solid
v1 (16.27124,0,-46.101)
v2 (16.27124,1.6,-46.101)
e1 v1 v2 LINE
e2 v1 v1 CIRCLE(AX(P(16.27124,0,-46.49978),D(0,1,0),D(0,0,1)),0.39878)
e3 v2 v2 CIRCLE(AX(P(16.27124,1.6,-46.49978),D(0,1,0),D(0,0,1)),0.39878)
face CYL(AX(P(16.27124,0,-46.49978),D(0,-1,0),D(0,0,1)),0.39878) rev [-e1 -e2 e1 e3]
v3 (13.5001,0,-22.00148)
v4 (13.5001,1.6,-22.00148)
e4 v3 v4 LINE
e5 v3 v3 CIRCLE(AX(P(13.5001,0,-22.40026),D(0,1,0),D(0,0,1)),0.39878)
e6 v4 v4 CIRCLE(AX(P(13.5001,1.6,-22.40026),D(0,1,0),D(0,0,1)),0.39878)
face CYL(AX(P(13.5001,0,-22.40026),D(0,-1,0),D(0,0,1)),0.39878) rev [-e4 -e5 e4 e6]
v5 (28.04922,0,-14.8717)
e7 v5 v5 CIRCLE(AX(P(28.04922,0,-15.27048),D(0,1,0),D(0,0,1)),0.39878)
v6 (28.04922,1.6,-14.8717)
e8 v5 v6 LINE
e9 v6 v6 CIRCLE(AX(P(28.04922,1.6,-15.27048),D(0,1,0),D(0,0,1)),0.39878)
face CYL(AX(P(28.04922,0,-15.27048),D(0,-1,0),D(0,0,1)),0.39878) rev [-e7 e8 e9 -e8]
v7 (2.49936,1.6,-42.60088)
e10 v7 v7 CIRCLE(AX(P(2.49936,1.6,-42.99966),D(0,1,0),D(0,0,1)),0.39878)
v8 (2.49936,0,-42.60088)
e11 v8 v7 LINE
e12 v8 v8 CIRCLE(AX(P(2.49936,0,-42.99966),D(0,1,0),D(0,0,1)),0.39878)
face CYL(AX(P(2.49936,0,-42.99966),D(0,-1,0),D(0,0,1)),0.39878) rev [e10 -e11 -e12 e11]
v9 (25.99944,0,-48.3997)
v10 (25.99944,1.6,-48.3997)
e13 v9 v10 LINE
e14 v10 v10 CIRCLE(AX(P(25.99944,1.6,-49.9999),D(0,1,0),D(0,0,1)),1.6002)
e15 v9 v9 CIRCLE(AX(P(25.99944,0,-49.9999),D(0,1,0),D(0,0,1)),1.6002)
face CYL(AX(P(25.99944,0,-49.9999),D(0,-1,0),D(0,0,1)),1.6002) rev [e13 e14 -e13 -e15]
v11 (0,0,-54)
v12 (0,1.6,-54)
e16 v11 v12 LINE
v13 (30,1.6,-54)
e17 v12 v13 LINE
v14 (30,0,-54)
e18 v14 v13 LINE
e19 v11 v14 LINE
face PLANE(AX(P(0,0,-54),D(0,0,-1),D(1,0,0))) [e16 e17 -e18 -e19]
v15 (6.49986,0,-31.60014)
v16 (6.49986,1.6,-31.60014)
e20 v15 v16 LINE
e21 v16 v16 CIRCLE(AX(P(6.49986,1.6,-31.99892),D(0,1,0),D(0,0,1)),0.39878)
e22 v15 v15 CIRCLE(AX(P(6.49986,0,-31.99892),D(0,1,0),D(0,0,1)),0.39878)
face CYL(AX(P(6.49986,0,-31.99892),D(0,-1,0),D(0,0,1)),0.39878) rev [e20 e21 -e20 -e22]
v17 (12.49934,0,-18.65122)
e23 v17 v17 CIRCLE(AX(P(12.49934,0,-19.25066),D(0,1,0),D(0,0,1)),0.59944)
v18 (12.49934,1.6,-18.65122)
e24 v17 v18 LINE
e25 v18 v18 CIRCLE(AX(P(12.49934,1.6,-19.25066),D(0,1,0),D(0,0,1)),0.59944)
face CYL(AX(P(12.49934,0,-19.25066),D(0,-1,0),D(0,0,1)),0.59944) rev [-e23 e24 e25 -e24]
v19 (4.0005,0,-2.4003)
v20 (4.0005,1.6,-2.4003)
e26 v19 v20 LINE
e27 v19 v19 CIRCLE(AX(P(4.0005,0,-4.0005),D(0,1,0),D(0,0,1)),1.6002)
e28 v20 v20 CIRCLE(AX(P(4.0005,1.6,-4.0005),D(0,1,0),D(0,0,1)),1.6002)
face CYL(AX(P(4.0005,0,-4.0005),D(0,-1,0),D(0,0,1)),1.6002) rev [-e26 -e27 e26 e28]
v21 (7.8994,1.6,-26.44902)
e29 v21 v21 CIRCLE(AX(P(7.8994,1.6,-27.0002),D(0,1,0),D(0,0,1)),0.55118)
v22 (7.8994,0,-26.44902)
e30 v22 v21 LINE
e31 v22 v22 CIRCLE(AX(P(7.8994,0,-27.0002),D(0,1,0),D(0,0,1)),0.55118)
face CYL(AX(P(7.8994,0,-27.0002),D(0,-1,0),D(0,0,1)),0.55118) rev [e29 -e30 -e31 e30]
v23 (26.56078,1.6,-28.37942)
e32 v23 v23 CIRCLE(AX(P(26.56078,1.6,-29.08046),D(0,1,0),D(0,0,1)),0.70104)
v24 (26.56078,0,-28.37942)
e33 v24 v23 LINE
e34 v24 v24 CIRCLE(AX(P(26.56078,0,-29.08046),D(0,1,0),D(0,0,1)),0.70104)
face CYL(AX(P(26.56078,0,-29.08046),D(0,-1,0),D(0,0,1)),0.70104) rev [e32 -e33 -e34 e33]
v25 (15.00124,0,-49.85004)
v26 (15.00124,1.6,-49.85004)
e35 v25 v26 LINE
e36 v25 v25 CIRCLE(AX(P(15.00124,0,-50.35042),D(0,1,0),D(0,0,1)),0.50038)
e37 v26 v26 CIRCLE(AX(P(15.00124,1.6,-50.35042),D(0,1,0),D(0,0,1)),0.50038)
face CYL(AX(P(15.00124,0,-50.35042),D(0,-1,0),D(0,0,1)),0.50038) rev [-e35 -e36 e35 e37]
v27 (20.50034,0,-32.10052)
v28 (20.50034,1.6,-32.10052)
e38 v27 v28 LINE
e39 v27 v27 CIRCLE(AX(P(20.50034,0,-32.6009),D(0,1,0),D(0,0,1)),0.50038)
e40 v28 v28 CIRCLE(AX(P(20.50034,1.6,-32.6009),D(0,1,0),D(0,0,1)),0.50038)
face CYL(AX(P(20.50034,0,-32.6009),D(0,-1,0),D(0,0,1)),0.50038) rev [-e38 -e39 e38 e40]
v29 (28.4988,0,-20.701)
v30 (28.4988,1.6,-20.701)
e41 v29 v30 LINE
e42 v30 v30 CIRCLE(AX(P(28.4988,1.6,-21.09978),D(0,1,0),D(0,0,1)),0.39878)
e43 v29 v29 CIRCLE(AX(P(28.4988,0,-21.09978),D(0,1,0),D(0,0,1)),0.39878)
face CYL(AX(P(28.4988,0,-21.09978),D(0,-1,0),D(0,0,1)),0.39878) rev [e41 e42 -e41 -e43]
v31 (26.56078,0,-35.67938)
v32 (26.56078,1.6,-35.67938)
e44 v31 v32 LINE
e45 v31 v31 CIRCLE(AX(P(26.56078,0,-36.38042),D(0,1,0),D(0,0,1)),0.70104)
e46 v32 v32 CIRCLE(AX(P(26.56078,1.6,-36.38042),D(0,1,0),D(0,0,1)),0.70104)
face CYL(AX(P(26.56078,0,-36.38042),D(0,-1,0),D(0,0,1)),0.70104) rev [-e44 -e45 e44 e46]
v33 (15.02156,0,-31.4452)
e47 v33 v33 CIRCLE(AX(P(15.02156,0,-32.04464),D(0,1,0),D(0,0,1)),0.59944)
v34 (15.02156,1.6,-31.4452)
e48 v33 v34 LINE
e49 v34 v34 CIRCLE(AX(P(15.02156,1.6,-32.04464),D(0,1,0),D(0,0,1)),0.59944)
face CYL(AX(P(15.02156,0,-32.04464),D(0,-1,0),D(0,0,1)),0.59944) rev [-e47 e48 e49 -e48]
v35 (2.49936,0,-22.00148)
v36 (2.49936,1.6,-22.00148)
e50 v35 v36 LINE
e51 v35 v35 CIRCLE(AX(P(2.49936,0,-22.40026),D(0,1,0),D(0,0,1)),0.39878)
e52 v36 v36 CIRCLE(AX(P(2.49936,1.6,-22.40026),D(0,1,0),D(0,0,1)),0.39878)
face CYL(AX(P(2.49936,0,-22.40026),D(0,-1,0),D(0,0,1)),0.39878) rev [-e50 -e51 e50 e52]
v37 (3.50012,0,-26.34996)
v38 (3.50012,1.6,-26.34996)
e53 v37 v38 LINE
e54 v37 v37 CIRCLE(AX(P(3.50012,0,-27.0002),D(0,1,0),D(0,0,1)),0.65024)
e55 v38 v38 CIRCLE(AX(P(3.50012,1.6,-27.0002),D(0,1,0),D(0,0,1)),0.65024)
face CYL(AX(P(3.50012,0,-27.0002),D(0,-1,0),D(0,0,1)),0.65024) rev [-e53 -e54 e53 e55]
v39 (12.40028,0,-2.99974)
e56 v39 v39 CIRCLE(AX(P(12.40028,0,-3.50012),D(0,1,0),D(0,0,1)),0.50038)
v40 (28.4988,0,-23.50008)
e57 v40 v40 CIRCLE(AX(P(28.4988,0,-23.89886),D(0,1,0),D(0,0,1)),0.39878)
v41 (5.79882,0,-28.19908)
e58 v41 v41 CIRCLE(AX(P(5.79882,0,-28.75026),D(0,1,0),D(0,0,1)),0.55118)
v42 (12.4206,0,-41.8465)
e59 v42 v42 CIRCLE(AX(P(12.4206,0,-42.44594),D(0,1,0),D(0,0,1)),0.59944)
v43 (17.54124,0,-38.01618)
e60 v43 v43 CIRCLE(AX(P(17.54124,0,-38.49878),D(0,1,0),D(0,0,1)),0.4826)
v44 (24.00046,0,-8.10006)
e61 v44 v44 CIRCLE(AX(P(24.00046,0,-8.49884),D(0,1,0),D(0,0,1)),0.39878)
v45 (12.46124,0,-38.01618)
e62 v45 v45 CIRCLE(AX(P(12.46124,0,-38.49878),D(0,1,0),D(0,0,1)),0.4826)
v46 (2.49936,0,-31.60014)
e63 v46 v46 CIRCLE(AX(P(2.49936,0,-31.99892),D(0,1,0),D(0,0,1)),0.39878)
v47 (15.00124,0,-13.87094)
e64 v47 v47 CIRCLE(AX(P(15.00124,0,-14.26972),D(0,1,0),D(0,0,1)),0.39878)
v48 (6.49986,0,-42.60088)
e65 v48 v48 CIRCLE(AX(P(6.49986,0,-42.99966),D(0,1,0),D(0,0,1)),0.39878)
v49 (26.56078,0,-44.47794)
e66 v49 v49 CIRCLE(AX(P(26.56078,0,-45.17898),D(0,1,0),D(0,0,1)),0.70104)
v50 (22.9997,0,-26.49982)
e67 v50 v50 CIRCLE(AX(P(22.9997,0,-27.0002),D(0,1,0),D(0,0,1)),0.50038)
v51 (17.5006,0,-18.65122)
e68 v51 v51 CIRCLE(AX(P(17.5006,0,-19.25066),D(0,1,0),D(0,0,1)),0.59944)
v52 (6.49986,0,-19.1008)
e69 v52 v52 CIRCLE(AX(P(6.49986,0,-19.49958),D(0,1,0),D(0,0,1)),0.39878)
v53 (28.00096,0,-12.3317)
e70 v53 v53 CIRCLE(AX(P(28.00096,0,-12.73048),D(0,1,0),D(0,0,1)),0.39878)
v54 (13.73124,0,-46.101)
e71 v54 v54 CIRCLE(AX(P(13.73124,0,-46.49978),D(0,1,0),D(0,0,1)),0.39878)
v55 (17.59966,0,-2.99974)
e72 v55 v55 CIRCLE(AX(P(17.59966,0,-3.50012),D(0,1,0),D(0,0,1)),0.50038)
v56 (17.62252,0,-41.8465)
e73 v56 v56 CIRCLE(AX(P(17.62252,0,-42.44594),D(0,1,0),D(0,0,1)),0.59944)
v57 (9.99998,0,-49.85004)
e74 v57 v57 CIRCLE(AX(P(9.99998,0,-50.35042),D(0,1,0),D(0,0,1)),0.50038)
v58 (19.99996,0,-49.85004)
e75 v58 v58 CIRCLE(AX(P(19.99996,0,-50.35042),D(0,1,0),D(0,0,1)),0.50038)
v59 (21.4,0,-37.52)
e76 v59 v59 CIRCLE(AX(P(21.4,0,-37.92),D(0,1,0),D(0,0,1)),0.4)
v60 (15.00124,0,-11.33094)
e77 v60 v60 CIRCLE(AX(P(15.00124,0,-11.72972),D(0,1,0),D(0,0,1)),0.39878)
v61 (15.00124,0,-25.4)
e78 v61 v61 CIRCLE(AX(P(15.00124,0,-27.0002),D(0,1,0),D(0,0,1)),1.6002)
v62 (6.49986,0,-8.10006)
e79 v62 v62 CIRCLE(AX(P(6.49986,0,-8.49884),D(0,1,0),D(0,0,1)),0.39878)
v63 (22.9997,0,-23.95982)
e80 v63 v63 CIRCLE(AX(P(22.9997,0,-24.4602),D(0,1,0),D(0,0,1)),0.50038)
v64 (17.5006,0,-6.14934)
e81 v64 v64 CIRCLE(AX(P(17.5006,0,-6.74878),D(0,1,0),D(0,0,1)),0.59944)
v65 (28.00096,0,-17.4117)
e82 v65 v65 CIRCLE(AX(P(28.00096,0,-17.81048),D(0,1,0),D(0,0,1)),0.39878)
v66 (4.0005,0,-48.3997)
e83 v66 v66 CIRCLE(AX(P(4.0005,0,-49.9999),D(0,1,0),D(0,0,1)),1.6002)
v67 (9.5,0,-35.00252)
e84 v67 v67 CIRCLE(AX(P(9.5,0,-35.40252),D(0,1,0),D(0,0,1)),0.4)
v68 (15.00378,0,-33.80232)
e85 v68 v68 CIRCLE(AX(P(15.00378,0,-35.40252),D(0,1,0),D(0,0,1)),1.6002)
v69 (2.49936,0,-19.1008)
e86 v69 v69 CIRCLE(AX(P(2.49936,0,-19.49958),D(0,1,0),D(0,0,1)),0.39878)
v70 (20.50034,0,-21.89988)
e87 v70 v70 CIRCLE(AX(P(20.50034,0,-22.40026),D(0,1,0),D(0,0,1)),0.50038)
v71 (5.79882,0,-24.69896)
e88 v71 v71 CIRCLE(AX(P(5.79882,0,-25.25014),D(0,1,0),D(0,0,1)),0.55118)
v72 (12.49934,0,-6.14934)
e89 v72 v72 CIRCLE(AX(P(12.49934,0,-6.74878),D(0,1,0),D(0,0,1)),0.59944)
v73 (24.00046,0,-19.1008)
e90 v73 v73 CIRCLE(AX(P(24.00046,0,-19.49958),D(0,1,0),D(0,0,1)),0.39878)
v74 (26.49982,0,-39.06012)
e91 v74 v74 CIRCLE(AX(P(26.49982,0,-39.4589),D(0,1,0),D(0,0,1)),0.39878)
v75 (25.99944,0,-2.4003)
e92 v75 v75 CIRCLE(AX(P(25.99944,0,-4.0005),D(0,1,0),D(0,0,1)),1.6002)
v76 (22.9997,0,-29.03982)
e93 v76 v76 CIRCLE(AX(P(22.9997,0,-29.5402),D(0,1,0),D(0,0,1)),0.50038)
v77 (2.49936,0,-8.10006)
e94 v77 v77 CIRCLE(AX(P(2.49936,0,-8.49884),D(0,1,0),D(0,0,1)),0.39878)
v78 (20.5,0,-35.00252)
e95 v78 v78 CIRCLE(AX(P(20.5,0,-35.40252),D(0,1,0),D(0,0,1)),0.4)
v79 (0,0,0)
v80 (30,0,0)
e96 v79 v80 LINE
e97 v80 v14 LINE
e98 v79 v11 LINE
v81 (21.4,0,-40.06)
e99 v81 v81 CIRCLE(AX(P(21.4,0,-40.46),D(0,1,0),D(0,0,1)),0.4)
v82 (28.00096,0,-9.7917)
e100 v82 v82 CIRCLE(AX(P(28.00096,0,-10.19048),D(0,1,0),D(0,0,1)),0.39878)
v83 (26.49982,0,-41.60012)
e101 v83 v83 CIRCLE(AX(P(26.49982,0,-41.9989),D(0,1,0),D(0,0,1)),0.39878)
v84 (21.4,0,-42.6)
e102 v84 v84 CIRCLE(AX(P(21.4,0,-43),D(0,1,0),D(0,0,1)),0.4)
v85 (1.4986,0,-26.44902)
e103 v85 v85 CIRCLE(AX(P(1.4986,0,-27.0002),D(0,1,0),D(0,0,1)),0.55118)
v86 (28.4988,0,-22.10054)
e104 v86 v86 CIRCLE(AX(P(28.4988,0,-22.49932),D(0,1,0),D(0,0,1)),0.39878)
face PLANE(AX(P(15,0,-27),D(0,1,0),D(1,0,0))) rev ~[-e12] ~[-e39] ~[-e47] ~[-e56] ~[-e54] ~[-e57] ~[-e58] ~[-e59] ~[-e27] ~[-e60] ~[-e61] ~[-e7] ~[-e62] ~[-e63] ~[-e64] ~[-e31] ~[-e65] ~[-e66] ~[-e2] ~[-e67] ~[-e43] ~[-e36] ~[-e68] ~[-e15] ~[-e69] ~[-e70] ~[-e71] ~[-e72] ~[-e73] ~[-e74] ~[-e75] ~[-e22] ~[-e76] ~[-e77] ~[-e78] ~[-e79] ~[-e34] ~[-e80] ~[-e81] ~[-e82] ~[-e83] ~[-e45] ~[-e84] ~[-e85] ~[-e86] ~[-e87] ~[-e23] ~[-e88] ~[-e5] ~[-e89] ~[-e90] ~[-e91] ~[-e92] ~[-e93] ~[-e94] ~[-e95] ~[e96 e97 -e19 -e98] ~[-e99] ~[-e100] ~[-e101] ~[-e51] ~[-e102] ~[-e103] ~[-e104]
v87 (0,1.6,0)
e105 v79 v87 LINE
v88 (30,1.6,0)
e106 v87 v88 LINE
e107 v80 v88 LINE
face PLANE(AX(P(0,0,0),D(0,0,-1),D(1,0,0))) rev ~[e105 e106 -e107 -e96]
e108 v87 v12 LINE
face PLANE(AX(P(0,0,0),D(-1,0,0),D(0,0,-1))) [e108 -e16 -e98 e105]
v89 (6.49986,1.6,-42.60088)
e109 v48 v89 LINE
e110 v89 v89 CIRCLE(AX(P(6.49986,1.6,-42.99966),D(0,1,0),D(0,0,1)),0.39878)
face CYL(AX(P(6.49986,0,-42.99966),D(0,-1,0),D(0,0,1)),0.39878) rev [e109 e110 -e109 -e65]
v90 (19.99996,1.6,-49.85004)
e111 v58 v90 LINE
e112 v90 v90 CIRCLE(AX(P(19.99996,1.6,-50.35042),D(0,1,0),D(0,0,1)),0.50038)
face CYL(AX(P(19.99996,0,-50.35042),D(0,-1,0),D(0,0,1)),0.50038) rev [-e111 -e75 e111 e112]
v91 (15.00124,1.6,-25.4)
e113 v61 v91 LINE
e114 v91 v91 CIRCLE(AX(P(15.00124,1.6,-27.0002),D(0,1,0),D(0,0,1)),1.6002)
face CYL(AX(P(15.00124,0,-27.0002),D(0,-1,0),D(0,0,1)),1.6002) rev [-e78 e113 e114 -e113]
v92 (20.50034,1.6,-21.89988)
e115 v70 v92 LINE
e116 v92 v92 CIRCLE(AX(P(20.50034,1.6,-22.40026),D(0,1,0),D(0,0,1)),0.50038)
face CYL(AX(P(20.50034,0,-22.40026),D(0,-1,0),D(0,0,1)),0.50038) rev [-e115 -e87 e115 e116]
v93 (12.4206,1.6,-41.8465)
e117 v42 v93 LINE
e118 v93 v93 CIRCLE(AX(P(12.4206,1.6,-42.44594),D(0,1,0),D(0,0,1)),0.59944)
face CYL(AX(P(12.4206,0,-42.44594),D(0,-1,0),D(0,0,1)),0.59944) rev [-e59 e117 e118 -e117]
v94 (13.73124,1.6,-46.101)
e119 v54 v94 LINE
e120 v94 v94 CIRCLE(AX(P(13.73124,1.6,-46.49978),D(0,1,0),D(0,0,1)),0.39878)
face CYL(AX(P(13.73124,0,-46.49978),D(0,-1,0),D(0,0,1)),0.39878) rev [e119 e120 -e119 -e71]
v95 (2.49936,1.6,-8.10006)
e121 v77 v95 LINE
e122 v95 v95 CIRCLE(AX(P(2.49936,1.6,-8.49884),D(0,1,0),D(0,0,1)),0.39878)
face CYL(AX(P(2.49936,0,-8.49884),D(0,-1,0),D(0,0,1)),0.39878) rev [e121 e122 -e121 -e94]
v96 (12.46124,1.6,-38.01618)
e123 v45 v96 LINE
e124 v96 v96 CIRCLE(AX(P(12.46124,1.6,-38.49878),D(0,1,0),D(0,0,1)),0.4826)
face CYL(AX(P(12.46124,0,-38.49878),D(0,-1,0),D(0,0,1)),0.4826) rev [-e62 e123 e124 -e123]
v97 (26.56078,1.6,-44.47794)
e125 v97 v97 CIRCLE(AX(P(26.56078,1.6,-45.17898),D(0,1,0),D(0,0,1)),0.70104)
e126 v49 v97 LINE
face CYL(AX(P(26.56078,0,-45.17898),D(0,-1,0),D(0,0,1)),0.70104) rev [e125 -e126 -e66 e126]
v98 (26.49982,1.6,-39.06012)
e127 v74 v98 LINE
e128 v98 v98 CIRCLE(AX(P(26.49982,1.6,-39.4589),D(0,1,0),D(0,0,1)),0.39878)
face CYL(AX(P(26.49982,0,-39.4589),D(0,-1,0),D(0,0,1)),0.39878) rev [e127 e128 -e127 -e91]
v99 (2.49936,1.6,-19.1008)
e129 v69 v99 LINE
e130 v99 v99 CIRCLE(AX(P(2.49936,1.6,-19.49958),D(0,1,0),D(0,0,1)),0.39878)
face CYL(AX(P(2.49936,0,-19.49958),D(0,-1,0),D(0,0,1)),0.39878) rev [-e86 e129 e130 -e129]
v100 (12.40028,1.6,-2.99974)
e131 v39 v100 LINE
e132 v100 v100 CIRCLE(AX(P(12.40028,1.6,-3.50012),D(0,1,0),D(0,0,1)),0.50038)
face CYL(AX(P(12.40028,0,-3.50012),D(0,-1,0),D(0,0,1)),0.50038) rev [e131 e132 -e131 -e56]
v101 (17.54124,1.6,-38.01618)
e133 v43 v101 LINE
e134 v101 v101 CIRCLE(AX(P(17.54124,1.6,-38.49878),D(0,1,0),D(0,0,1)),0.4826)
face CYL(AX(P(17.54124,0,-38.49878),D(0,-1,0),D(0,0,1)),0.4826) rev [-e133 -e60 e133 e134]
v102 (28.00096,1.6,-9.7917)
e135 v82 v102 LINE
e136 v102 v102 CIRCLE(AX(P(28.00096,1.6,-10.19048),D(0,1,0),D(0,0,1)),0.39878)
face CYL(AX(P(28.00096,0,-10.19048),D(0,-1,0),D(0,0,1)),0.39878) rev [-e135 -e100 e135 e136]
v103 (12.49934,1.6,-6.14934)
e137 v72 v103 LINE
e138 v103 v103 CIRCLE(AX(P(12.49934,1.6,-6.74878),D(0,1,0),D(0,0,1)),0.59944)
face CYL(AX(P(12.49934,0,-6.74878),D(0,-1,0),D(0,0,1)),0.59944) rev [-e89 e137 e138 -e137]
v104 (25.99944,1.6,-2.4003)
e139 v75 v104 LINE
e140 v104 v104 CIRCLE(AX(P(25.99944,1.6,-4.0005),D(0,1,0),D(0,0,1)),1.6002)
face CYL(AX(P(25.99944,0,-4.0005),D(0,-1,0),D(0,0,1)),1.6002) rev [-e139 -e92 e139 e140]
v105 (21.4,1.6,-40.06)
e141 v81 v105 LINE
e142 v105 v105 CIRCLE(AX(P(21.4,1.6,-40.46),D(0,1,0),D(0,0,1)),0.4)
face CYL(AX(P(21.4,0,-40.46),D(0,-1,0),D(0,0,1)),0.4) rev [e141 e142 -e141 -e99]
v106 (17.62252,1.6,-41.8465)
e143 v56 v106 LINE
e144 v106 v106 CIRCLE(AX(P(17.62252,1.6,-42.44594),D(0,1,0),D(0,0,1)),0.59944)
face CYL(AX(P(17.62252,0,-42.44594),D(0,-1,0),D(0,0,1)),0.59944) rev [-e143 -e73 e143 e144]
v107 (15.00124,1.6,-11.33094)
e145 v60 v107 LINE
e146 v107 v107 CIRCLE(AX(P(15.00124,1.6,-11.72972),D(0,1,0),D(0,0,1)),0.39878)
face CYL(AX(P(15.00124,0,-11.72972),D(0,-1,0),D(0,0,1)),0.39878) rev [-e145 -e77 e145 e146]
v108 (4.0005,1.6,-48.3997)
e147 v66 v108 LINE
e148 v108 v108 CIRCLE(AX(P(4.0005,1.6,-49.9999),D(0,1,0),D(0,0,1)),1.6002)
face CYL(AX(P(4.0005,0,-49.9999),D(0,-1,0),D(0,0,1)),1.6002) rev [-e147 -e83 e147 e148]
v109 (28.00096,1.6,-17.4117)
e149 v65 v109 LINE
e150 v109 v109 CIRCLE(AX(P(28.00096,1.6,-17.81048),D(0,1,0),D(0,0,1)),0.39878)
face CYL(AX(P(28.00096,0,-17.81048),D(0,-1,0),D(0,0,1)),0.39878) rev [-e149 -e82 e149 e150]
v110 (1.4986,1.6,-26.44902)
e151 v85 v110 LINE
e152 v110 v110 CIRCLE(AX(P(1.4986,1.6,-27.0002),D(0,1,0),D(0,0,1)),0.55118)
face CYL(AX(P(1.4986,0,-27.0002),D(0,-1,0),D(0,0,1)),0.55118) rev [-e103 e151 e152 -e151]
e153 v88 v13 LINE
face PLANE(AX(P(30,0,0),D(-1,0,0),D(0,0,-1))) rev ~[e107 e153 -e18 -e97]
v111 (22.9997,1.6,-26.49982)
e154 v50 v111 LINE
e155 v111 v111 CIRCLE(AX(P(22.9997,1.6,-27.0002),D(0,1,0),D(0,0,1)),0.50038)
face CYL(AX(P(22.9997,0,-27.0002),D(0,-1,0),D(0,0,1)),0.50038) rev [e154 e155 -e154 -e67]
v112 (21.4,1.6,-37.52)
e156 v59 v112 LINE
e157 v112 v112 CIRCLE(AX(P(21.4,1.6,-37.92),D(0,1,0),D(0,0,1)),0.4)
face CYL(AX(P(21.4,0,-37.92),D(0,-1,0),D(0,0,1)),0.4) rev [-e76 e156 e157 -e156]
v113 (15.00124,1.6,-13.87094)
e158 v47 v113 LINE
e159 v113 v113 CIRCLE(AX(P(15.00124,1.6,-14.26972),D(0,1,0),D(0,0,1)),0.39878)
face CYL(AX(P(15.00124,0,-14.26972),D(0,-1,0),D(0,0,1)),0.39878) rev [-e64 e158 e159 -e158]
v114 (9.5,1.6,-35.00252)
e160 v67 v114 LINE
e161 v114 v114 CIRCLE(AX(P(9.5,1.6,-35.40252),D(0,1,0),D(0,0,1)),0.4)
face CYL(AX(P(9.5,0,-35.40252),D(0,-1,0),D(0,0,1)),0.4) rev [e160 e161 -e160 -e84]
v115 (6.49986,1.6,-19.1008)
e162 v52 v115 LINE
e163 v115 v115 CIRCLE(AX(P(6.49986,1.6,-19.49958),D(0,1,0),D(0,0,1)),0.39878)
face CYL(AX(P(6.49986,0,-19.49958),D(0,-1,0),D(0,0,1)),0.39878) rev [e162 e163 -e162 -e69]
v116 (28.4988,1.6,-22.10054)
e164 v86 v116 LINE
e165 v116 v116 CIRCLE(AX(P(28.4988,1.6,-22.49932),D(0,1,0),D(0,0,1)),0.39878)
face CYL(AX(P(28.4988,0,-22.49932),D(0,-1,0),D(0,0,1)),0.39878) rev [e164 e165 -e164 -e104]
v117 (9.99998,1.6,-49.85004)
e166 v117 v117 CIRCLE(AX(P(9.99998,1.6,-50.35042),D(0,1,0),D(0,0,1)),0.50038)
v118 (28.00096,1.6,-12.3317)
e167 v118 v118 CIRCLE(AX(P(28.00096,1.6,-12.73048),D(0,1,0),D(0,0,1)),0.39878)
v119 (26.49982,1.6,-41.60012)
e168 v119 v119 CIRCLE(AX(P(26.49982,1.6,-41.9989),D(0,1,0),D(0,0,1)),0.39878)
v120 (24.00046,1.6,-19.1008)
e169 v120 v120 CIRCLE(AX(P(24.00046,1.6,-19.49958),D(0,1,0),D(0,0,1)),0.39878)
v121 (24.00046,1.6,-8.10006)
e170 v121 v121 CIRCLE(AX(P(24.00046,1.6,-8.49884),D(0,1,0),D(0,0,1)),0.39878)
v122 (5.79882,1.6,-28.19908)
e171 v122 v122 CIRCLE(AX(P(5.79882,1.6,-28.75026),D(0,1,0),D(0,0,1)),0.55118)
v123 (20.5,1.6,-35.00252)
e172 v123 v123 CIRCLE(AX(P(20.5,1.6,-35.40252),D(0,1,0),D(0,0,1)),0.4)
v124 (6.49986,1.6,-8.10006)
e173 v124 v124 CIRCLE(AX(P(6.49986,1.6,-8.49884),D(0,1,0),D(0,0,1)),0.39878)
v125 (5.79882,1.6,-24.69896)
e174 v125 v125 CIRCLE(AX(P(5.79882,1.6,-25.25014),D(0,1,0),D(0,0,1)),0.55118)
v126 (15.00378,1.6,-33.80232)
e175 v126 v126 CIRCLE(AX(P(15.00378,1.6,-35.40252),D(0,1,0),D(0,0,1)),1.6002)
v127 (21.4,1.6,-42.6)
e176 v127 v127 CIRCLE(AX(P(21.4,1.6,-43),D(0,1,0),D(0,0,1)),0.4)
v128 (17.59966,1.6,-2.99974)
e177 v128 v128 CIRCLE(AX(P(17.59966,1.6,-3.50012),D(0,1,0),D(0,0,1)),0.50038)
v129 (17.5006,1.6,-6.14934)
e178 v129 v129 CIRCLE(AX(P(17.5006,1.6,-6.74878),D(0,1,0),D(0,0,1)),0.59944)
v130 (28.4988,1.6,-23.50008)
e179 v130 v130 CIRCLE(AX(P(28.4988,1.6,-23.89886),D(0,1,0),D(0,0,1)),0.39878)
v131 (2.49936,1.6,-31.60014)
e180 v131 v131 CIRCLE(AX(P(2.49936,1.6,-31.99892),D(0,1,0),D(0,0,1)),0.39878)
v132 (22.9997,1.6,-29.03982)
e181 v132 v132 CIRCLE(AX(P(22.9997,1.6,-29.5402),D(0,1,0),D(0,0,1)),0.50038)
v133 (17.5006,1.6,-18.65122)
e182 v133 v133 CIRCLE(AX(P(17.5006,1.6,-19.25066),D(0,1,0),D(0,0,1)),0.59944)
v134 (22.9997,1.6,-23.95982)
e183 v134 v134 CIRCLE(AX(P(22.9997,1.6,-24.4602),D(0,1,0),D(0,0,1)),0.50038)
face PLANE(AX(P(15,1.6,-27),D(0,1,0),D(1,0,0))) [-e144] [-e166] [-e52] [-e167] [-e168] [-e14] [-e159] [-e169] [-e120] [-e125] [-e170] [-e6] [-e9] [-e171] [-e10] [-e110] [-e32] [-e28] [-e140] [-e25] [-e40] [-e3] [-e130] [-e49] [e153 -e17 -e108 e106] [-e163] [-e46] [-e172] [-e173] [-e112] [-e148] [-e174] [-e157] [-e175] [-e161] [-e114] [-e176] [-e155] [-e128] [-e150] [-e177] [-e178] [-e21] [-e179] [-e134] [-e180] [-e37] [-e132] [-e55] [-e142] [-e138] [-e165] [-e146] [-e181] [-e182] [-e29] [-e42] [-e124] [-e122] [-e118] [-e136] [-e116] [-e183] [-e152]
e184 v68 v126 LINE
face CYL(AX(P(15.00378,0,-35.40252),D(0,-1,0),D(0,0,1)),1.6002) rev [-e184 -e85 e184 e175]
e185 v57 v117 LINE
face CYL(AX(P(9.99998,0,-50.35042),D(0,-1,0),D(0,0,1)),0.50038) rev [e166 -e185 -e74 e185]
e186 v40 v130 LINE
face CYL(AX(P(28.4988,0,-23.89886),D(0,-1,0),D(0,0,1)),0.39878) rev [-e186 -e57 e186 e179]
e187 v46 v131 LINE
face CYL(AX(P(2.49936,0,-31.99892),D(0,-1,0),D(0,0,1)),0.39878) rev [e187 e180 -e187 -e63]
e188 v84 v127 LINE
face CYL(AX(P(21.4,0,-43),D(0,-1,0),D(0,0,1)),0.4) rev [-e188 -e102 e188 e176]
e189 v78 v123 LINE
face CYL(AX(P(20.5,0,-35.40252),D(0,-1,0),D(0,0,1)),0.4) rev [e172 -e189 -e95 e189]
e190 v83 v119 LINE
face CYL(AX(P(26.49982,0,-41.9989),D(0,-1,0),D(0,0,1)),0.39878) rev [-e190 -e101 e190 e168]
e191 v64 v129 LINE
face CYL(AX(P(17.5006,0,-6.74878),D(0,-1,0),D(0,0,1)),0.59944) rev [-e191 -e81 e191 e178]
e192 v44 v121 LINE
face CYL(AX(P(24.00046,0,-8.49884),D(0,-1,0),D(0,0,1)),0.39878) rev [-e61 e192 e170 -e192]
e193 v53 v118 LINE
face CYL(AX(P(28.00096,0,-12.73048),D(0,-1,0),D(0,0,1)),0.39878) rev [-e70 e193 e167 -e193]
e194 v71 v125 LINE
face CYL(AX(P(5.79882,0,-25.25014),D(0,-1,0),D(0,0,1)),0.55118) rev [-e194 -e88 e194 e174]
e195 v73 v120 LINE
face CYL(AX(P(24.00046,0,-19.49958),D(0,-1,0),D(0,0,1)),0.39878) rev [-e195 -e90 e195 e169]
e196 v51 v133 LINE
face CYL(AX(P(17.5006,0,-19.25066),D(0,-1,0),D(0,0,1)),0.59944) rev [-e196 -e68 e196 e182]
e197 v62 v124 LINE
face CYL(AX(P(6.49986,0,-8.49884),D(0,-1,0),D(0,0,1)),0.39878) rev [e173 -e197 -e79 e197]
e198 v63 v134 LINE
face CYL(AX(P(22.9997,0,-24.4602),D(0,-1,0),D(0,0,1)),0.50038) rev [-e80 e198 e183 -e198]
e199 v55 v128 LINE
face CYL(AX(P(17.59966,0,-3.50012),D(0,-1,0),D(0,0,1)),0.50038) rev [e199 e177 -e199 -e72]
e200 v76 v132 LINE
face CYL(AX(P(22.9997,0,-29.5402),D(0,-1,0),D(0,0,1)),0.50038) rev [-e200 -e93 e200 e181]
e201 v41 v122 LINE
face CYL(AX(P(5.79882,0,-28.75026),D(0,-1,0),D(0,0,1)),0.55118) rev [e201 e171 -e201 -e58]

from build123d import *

# Parameters (mm, degrees)
ESQUISSE2_W      = 30
ESQUISSE2_H      = 54
ESQUISSE2_R      = 0.59944
ESQUISSE2_R_2    = 1.6002
ESQUISSE2_R_3    = 0.50038
ESQUISSE2_R_4    = 0.4826
ESQUISSE2_R_5    = 0.39878
ESQUISSE2_R_6    = 0.55118
ESQUISSE2_R_7    = 0.65024
ESQUISSE2_R_8    = 0.70104
ESQUISSE2_R_9    = 0.4
EXTRUSION1_DEPTH = 1.6


with BuildPart() as part:
    # Esquisse2 → Extrusion1 (new body)
    with BuildSketch(Plane(origin=(0, 0, 0), x_dir=(1, 0, 0), z_dir=(0, 1, 0))):
        with Locations((15, 27)):
            Rectangle(ESQUISSE2_W, ESQUISSE2_H)
        with Locations(Location((17.62252, 42.44594, 0), (0, 0, 270))):  # turned: the seam where the file's is
            Circle(ESQUISSE2_R, mode=Mode.SUBTRACT)
        with Locations(Location((12.4206, 42.44594, 0), (0, 0, 270))):  # turned: the seam where the file's is
            Circle(ESQUISSE2_R, mode=Mode.SUBTRACT)
        with Locations(Location((15.02156, 32.04464, 0), (0, 0, 270))):  # turned: the seam where the file's is
            Circle(ESQUISSE2_R, mode=Mode.SUBTRACT)
        with Locations(Location((15.00378, 35.40252, 0), (0, 0, 270))):  # turned: the seam where the file's is
            Circle(ESQUISSE2_R_2, mode=Mode.SUBTRACT)
        with Locations(Location((17.59966, 3.50012, 0), (0, 0, 270))):  # turned: the seam where the file's is
            Circle(ESQUISSE2_R_3, mode=Mode.SUBTRACT)
        with Locations(Location((12.40028, 3.50012, 0), (0, 0, 270))):  # turned: the seam where the file's is
            Circle(ESQUISSE2_R_3, mode=Mode.SUBTRACT)
        with Locations(Location((15.00124, 50.35042, 0), (0, 0, 270))):  # turned: the seam where the file's is
            Circle(ESQUISSE2_R_3, mode=Mode.SUBTRACT)
        with Locations(Location((19.99996, 50.35042, 0), (0, 0, 270))):  # turned: the seam where the file's is
            Circle(ESQUISSE2_R_3, mode=Mode.SUBTRACT)
        with Locations(Location((9.99998, 50.35042, 0), (0, 0, 270))):  # turned: the seam where the file's is
            Circle(ESQUISSE2_R_3, mode=Mode.SUBTRACT)
        with Locations(Location((12.49934, 19.25066, 0), (0, 0, 270))):  # turned: the seam where the file's is
            Circle(ESQUISSE2_R, mode=Mode.SUBTRACT)
        with Locations(Location((12.49934, 6.74878, 0), (0, 0, 270))):  # turned: the seam where the file's is
            Circle(ESQUISSE2_R, mode=Mode.SUBTRACT)
        with Locations(Location((17.5006, 19.25066, 0), (0, 0, 270))):  # turned: the seam where the file's is
            Circle(ESQUISSE2_R, mode=Mode.SUBTRACT)
        with Locations(Location((17.5006, 6.74878, 0), (0, 0, 270))):  # turned: the seam where the file's is
            Circle(ESQUISSE2_R, mode=Mode.SUBTRACT)
        with Locations(Location((20.50034, 22.40026, 0), (0, 0, 270))):  # turned: the seam where the file's is
            Circle(ESQUISSE2_R_3, mode=Mode.SUBTRACT)
        with Locations(Location((20.50034, 32.6009, 0), (0, 0, 270))):  # turned: the seam where the file's is
            Circle(ESQUISSE2_R_3, mode=Mode.SUBTRACT)
        with Locations(Location((12.46124, 38.49878, 0), (0, 0, 270))):  # turned: the seam where the file's is
            Circle(ESQUISSE2_R_4, mode=Mode.SUBTRACT)
        with Locations(Location((17.54124, 38.49878, 0), (0, 0, 270))):  # turned: the seam where the file's is
            Circle(ESQUISSE2_R_4, mode=Mode.SUBTRACT)
        with Locations(Location((16.27124, 46.49978, 0), (0, 0, 270))):  # turned: the seam where the file's is
            Circle(ESQUISSE2_R_5, mode=Mode.SUBTRACT)
        with Locations(Location((13.73124, 46.49978, 0), (0, 0, 270))):  # turned: the seam where the file's is
            Circle(ESQUISSE2_R_5, mode=Mode.SUBTRACT)
        with Locations(Location((15.00124, 11.72972, 0), (0, 0, 270))):  # turned: the seam where the file's is
            Circle(ESQUISSE2_R_5, mode=Mode.SUBTRACT)
        with Locations(Location((15.00124, 14.26972, 0), (0, 0, 270))):  # turned: the seam where the file's is
            Circle(ESQUISSE2_R_5, mode=Mode.SUBTRACT)
        with Locations(Location((1.4986, 27.0002, 0), (0, 0, 270))):  # turned: the seam where the file's is
            Circle(ESQUISSE2_R_6, mode=Mode.SUBTRACT)
        with Locations(Location((7.8994, 27.0002, 0), (0, 0, 270))):  # turned: the seam where the file's is
            Circle(ESQUISSE2_R_6, mode=Mode.SUBTRACT)
        with Locations(Location((5.79882, 25.25014, 0), (0, 0, 270))):  # turned: the seam where the file's is
            Circle(ESQUISSE2_R_6, mode=Mode.SUBTRACT)
        with Locations(Location((5.79882, 28.75026, 0), (0, 0, 270))):  # turned: the seam where the file's is
            Circle(ESQUISSE2_R_6, mode=Mode.SUBTRACT)
        with Locations(Location((3.50012, 27.0002, 0), (0, 0, 270))):  # turned: the seam where the file's is
            Circle(ESQUISSE2_R_7, mode=Mode.SUBTRACT)
        with Locations(Location((4.0005, 49.9999, 0), (0, 0, 270))):  # turned: the seam where the file's is
            Circle(ESQUISSE2_R_2, mode=Mode.SUBTRACT)
        with Locations(Location((25.99944, 49.9999, 0), (0, 0, 270))):  # turned: the seam where the file's is
            Circle(ESQUISSE2_R_2, mode=Mode.SUBTRACT)
        with Locations(Location((4.0005, 4.0005, 0), (0, 0, 270))):  # turned: the seam where the file's is
            Circle(ESQUISSE2_R_2, mode=Mode.SUBTRACT)
        with Locations(Location((15.00124, 27.0002, 0), (0, 0, 270))):  # turned: the seam where the file's is
            Circle(ESQUISSE2_R_2, mode=Mode.SUBTRACT)
        with Locations(Location((25.99944, 4.0005, 0), (0, 0, 270))):  # turned: the seam where the file's is
            Circle(ESQUISSE2_R_2, mode=Mode.SUBTRACT)
        with Locations(Location((22.9997, 24.4602, 0), (0, 0, 270))):  # turned: the seam where the file's is
            Circle(ESQUISSE2_R_3, mode=Mode.SUBTRACT)
        with Locations(Location((22.9997, 27.0002, 0), (0, 0, 270))):  # turned: the seam where the file's is
            Circle(ESQUISSE2_R_3, mode=Mode.SUBTRACT)
        with Locations(Location((22.9997, 29.5402, 0), (0, 0, 270))):  # turned: the seam where the file's is
            Circle(ESQUISSE2_R_3, mode=Mode.SUBTRACT)
        with Locations(Location((28.04922, 15.27048, 0), (0, 0, 270))):  # turned: the seam where the file's is
            Circle(ESQUISSE2_R_5, mode=Mode.SUBTRACT)
        with Locations(Location((28.00096, 12.73048, 0), (0, 0, 270))):  # turned: the seam where the file's is
            Circle(ESQUISSE2_R_5, mode=Mode.SUBTRACT)
        with Locations(Location((28.00096, 10.19048, 0), (0, 0, 270))):  # turned: the seam where the file's is
            Circle(ESQUISSE2_R_5, mode=Mode.SUBTRACT)
        with Locations(Location((28.00096, 17.81048, 0), (0, 0, 270))):  # turned: the seam where the file's is
            Circle(ESQUISSE2_R_5, mode=Mode.SUBTRACT)
        with Locations(Location((26.49982, 41.9989, 0), (0, 0, 270))):  # turned: the seam where the file's is
            Circle(ESQUISSE2_R_5, mode=Mode.SUBTRACT)
        with Locations(Location((26.49982, 39.4589, 0), (0, 0, 270))):  # turned: the seam where the file's is
            Circle(ESQUISSE2_R_5, mode=Mode.SUBTRACT)
        with Locations(Location((26.56078, 45.17898, 0), (0, 0, 270))):  # turned: the seam where the file's is
            Circle(ESQUISSE2_R_8, mode=Mode.SUBTRACT)
        with Locations(Location((26.56078, 36.38042, 0), (0, 0, 270))):  # turned: the seam where the file's is
            Circle(ESQUISSE2_R_8, mode=Mode.SUBTRACT)
        with Locations(Location((26.56078, 29.08046, 0), (0, 0, 270))):  # turned: the seam where the file's is
            Circle(ESQUISSE2_R_8, mode=Mode.SUBTRACT)
        with Locations(Location((24.00046, 8.49884, 0), (0, 0, 270))):  # turned: the seam where the file's is
            Circle(ESQUISSE2_R_5, mode=Mode.SUBTRACT)
        with Locations(Location((24.00046, 19.49958, 0), (0, 0, 270))):  # turned: the seam where the file's is
            Circle(ESQUISSE2_R_5, mode=Mode.SUBTRACT)
        with Locations(Location((6.49986, 42.99966, 0), (0, 0, 270))):  # turned: the seam where the file's is
            Circle(ESQUISSE2_R_5, mode=Mode.SUBTRACT)
        with Locations(Location((6.49986, 31.99892, 0), (0, 0, 270))):  # turned: the seam where the file's is
            Circle(ESQUISSE2_R_5, mode=Mode.SUBTRACT)
        with Locations(Location((2.49936, 42.99966, 0), (0, 0, 270))):  # turned: the seam where the file's is
            Circle(ESQUISSE2_R_5, mode=Mode.SUBTRACT)
        with Locations(Location((2.49936, 31.99892, 0), (0, 0, 270))):  # turned: the seam where the file's is
            Circle(ESQUISSE2_R_5, mode=Mode.SUBTRACT)
        with Locations(Location((6.49986, 8.49884, 0), (0, 0, 270))):  # turned: the seam where the file's is
            Circle(ESQUISSE2_R_5, mode=Mode.SUBTRACT)
        with Locations(Location((6.49986, 19.49958, 0), (0, 0, 270))):  # turned: the seam where the file's is
            Circle(ESQUISSE2_R_5, mode=Mode.SUBTRACT)
        with Locations(Location((2.49936, 8.49884, 0), (0, 0, 270))):  # turned: the seam where the file's is
            Circle(ESQUISSE2_R_5, mode=Mode.SUBTRACT)
        with Locations(Location((2.49936, 19.49958, 0), (0, 0, 270))):  # turned: the seam where the file's is
            Circle(ESQUISSE2_R_5, mode=Mode.SUBTRACT)
        with Locations(Location((2.49936, 22.40026, 0), (0, 0, 270))):  # turned: the seam where the file's is
            Circle(ESQUISSE2_R_5, mode=Mode.SUBTRACT)
        with Locations(Location((13.5001, 22.40026, 0), (0, 0, 270))):  # turned: the seam where the file's is
            Circle(ESQUISSE2_R_5, mode=Mode.SUBTRACT)
        with Locations(Location((28.4988, 21.09978, 0), (0, 0, 270))):  # turned: the seam where the file's is
            Circle(ESQUISSE2_R_5, mode=Mode.SUBTRACT)
        with Locations(Location((28.4988, 22.49932, 0), (0, 0, 270))):  # turned: the seam where the file's is
            Circle(ESQUISSE2_R_5, mode=Mode.SUBTRACT)
        with Locations(Location((28.4988, 23.89886, 0), (0, 0, 270))):  # turned: the seam where the file's is
            Circle(ESQUISSE2_R_5, mode=Mode.SUBTRACT)
        with Locations(Location((21.4, 43, 0), (0, 0, 270))):  # turned: the seam where the file's is
            Circle(ESQUISSE2_R_9, mode=Mode.SUBTRACT)
        with Locations(Location((21.4, 40.46, 0), (0, 0, 270))):  # turned: the seam where the file's is
            Circle(ESQUISSE2_R_9, mode=Mode.SUBTRACT)
        with Locations(Location((21.4, 37.92, 0), (0, 0, 270))):  # turned: the seam where the file's is
            Circle(ESQUISSE2_R_9, mode=Mode.SUBTRACT)
        with Locations(Location((20.5, 35.40252, 0), (0, 0, 270))):  # turned: the seam where the file's is
            Circle(ESQUISSE2_R_9, mode=Mode.SUBTRACT)
        with Locations(Location((9.5, 35.40252, 0), (0, 0, 270))):  # turned: the seam where the file's is
            Circle(ESQUISSE2_R_9, mode=Mode.SUBTRACT)
    extrude(amount=EXTRUSION1_DEPTH)


solid = part.part
